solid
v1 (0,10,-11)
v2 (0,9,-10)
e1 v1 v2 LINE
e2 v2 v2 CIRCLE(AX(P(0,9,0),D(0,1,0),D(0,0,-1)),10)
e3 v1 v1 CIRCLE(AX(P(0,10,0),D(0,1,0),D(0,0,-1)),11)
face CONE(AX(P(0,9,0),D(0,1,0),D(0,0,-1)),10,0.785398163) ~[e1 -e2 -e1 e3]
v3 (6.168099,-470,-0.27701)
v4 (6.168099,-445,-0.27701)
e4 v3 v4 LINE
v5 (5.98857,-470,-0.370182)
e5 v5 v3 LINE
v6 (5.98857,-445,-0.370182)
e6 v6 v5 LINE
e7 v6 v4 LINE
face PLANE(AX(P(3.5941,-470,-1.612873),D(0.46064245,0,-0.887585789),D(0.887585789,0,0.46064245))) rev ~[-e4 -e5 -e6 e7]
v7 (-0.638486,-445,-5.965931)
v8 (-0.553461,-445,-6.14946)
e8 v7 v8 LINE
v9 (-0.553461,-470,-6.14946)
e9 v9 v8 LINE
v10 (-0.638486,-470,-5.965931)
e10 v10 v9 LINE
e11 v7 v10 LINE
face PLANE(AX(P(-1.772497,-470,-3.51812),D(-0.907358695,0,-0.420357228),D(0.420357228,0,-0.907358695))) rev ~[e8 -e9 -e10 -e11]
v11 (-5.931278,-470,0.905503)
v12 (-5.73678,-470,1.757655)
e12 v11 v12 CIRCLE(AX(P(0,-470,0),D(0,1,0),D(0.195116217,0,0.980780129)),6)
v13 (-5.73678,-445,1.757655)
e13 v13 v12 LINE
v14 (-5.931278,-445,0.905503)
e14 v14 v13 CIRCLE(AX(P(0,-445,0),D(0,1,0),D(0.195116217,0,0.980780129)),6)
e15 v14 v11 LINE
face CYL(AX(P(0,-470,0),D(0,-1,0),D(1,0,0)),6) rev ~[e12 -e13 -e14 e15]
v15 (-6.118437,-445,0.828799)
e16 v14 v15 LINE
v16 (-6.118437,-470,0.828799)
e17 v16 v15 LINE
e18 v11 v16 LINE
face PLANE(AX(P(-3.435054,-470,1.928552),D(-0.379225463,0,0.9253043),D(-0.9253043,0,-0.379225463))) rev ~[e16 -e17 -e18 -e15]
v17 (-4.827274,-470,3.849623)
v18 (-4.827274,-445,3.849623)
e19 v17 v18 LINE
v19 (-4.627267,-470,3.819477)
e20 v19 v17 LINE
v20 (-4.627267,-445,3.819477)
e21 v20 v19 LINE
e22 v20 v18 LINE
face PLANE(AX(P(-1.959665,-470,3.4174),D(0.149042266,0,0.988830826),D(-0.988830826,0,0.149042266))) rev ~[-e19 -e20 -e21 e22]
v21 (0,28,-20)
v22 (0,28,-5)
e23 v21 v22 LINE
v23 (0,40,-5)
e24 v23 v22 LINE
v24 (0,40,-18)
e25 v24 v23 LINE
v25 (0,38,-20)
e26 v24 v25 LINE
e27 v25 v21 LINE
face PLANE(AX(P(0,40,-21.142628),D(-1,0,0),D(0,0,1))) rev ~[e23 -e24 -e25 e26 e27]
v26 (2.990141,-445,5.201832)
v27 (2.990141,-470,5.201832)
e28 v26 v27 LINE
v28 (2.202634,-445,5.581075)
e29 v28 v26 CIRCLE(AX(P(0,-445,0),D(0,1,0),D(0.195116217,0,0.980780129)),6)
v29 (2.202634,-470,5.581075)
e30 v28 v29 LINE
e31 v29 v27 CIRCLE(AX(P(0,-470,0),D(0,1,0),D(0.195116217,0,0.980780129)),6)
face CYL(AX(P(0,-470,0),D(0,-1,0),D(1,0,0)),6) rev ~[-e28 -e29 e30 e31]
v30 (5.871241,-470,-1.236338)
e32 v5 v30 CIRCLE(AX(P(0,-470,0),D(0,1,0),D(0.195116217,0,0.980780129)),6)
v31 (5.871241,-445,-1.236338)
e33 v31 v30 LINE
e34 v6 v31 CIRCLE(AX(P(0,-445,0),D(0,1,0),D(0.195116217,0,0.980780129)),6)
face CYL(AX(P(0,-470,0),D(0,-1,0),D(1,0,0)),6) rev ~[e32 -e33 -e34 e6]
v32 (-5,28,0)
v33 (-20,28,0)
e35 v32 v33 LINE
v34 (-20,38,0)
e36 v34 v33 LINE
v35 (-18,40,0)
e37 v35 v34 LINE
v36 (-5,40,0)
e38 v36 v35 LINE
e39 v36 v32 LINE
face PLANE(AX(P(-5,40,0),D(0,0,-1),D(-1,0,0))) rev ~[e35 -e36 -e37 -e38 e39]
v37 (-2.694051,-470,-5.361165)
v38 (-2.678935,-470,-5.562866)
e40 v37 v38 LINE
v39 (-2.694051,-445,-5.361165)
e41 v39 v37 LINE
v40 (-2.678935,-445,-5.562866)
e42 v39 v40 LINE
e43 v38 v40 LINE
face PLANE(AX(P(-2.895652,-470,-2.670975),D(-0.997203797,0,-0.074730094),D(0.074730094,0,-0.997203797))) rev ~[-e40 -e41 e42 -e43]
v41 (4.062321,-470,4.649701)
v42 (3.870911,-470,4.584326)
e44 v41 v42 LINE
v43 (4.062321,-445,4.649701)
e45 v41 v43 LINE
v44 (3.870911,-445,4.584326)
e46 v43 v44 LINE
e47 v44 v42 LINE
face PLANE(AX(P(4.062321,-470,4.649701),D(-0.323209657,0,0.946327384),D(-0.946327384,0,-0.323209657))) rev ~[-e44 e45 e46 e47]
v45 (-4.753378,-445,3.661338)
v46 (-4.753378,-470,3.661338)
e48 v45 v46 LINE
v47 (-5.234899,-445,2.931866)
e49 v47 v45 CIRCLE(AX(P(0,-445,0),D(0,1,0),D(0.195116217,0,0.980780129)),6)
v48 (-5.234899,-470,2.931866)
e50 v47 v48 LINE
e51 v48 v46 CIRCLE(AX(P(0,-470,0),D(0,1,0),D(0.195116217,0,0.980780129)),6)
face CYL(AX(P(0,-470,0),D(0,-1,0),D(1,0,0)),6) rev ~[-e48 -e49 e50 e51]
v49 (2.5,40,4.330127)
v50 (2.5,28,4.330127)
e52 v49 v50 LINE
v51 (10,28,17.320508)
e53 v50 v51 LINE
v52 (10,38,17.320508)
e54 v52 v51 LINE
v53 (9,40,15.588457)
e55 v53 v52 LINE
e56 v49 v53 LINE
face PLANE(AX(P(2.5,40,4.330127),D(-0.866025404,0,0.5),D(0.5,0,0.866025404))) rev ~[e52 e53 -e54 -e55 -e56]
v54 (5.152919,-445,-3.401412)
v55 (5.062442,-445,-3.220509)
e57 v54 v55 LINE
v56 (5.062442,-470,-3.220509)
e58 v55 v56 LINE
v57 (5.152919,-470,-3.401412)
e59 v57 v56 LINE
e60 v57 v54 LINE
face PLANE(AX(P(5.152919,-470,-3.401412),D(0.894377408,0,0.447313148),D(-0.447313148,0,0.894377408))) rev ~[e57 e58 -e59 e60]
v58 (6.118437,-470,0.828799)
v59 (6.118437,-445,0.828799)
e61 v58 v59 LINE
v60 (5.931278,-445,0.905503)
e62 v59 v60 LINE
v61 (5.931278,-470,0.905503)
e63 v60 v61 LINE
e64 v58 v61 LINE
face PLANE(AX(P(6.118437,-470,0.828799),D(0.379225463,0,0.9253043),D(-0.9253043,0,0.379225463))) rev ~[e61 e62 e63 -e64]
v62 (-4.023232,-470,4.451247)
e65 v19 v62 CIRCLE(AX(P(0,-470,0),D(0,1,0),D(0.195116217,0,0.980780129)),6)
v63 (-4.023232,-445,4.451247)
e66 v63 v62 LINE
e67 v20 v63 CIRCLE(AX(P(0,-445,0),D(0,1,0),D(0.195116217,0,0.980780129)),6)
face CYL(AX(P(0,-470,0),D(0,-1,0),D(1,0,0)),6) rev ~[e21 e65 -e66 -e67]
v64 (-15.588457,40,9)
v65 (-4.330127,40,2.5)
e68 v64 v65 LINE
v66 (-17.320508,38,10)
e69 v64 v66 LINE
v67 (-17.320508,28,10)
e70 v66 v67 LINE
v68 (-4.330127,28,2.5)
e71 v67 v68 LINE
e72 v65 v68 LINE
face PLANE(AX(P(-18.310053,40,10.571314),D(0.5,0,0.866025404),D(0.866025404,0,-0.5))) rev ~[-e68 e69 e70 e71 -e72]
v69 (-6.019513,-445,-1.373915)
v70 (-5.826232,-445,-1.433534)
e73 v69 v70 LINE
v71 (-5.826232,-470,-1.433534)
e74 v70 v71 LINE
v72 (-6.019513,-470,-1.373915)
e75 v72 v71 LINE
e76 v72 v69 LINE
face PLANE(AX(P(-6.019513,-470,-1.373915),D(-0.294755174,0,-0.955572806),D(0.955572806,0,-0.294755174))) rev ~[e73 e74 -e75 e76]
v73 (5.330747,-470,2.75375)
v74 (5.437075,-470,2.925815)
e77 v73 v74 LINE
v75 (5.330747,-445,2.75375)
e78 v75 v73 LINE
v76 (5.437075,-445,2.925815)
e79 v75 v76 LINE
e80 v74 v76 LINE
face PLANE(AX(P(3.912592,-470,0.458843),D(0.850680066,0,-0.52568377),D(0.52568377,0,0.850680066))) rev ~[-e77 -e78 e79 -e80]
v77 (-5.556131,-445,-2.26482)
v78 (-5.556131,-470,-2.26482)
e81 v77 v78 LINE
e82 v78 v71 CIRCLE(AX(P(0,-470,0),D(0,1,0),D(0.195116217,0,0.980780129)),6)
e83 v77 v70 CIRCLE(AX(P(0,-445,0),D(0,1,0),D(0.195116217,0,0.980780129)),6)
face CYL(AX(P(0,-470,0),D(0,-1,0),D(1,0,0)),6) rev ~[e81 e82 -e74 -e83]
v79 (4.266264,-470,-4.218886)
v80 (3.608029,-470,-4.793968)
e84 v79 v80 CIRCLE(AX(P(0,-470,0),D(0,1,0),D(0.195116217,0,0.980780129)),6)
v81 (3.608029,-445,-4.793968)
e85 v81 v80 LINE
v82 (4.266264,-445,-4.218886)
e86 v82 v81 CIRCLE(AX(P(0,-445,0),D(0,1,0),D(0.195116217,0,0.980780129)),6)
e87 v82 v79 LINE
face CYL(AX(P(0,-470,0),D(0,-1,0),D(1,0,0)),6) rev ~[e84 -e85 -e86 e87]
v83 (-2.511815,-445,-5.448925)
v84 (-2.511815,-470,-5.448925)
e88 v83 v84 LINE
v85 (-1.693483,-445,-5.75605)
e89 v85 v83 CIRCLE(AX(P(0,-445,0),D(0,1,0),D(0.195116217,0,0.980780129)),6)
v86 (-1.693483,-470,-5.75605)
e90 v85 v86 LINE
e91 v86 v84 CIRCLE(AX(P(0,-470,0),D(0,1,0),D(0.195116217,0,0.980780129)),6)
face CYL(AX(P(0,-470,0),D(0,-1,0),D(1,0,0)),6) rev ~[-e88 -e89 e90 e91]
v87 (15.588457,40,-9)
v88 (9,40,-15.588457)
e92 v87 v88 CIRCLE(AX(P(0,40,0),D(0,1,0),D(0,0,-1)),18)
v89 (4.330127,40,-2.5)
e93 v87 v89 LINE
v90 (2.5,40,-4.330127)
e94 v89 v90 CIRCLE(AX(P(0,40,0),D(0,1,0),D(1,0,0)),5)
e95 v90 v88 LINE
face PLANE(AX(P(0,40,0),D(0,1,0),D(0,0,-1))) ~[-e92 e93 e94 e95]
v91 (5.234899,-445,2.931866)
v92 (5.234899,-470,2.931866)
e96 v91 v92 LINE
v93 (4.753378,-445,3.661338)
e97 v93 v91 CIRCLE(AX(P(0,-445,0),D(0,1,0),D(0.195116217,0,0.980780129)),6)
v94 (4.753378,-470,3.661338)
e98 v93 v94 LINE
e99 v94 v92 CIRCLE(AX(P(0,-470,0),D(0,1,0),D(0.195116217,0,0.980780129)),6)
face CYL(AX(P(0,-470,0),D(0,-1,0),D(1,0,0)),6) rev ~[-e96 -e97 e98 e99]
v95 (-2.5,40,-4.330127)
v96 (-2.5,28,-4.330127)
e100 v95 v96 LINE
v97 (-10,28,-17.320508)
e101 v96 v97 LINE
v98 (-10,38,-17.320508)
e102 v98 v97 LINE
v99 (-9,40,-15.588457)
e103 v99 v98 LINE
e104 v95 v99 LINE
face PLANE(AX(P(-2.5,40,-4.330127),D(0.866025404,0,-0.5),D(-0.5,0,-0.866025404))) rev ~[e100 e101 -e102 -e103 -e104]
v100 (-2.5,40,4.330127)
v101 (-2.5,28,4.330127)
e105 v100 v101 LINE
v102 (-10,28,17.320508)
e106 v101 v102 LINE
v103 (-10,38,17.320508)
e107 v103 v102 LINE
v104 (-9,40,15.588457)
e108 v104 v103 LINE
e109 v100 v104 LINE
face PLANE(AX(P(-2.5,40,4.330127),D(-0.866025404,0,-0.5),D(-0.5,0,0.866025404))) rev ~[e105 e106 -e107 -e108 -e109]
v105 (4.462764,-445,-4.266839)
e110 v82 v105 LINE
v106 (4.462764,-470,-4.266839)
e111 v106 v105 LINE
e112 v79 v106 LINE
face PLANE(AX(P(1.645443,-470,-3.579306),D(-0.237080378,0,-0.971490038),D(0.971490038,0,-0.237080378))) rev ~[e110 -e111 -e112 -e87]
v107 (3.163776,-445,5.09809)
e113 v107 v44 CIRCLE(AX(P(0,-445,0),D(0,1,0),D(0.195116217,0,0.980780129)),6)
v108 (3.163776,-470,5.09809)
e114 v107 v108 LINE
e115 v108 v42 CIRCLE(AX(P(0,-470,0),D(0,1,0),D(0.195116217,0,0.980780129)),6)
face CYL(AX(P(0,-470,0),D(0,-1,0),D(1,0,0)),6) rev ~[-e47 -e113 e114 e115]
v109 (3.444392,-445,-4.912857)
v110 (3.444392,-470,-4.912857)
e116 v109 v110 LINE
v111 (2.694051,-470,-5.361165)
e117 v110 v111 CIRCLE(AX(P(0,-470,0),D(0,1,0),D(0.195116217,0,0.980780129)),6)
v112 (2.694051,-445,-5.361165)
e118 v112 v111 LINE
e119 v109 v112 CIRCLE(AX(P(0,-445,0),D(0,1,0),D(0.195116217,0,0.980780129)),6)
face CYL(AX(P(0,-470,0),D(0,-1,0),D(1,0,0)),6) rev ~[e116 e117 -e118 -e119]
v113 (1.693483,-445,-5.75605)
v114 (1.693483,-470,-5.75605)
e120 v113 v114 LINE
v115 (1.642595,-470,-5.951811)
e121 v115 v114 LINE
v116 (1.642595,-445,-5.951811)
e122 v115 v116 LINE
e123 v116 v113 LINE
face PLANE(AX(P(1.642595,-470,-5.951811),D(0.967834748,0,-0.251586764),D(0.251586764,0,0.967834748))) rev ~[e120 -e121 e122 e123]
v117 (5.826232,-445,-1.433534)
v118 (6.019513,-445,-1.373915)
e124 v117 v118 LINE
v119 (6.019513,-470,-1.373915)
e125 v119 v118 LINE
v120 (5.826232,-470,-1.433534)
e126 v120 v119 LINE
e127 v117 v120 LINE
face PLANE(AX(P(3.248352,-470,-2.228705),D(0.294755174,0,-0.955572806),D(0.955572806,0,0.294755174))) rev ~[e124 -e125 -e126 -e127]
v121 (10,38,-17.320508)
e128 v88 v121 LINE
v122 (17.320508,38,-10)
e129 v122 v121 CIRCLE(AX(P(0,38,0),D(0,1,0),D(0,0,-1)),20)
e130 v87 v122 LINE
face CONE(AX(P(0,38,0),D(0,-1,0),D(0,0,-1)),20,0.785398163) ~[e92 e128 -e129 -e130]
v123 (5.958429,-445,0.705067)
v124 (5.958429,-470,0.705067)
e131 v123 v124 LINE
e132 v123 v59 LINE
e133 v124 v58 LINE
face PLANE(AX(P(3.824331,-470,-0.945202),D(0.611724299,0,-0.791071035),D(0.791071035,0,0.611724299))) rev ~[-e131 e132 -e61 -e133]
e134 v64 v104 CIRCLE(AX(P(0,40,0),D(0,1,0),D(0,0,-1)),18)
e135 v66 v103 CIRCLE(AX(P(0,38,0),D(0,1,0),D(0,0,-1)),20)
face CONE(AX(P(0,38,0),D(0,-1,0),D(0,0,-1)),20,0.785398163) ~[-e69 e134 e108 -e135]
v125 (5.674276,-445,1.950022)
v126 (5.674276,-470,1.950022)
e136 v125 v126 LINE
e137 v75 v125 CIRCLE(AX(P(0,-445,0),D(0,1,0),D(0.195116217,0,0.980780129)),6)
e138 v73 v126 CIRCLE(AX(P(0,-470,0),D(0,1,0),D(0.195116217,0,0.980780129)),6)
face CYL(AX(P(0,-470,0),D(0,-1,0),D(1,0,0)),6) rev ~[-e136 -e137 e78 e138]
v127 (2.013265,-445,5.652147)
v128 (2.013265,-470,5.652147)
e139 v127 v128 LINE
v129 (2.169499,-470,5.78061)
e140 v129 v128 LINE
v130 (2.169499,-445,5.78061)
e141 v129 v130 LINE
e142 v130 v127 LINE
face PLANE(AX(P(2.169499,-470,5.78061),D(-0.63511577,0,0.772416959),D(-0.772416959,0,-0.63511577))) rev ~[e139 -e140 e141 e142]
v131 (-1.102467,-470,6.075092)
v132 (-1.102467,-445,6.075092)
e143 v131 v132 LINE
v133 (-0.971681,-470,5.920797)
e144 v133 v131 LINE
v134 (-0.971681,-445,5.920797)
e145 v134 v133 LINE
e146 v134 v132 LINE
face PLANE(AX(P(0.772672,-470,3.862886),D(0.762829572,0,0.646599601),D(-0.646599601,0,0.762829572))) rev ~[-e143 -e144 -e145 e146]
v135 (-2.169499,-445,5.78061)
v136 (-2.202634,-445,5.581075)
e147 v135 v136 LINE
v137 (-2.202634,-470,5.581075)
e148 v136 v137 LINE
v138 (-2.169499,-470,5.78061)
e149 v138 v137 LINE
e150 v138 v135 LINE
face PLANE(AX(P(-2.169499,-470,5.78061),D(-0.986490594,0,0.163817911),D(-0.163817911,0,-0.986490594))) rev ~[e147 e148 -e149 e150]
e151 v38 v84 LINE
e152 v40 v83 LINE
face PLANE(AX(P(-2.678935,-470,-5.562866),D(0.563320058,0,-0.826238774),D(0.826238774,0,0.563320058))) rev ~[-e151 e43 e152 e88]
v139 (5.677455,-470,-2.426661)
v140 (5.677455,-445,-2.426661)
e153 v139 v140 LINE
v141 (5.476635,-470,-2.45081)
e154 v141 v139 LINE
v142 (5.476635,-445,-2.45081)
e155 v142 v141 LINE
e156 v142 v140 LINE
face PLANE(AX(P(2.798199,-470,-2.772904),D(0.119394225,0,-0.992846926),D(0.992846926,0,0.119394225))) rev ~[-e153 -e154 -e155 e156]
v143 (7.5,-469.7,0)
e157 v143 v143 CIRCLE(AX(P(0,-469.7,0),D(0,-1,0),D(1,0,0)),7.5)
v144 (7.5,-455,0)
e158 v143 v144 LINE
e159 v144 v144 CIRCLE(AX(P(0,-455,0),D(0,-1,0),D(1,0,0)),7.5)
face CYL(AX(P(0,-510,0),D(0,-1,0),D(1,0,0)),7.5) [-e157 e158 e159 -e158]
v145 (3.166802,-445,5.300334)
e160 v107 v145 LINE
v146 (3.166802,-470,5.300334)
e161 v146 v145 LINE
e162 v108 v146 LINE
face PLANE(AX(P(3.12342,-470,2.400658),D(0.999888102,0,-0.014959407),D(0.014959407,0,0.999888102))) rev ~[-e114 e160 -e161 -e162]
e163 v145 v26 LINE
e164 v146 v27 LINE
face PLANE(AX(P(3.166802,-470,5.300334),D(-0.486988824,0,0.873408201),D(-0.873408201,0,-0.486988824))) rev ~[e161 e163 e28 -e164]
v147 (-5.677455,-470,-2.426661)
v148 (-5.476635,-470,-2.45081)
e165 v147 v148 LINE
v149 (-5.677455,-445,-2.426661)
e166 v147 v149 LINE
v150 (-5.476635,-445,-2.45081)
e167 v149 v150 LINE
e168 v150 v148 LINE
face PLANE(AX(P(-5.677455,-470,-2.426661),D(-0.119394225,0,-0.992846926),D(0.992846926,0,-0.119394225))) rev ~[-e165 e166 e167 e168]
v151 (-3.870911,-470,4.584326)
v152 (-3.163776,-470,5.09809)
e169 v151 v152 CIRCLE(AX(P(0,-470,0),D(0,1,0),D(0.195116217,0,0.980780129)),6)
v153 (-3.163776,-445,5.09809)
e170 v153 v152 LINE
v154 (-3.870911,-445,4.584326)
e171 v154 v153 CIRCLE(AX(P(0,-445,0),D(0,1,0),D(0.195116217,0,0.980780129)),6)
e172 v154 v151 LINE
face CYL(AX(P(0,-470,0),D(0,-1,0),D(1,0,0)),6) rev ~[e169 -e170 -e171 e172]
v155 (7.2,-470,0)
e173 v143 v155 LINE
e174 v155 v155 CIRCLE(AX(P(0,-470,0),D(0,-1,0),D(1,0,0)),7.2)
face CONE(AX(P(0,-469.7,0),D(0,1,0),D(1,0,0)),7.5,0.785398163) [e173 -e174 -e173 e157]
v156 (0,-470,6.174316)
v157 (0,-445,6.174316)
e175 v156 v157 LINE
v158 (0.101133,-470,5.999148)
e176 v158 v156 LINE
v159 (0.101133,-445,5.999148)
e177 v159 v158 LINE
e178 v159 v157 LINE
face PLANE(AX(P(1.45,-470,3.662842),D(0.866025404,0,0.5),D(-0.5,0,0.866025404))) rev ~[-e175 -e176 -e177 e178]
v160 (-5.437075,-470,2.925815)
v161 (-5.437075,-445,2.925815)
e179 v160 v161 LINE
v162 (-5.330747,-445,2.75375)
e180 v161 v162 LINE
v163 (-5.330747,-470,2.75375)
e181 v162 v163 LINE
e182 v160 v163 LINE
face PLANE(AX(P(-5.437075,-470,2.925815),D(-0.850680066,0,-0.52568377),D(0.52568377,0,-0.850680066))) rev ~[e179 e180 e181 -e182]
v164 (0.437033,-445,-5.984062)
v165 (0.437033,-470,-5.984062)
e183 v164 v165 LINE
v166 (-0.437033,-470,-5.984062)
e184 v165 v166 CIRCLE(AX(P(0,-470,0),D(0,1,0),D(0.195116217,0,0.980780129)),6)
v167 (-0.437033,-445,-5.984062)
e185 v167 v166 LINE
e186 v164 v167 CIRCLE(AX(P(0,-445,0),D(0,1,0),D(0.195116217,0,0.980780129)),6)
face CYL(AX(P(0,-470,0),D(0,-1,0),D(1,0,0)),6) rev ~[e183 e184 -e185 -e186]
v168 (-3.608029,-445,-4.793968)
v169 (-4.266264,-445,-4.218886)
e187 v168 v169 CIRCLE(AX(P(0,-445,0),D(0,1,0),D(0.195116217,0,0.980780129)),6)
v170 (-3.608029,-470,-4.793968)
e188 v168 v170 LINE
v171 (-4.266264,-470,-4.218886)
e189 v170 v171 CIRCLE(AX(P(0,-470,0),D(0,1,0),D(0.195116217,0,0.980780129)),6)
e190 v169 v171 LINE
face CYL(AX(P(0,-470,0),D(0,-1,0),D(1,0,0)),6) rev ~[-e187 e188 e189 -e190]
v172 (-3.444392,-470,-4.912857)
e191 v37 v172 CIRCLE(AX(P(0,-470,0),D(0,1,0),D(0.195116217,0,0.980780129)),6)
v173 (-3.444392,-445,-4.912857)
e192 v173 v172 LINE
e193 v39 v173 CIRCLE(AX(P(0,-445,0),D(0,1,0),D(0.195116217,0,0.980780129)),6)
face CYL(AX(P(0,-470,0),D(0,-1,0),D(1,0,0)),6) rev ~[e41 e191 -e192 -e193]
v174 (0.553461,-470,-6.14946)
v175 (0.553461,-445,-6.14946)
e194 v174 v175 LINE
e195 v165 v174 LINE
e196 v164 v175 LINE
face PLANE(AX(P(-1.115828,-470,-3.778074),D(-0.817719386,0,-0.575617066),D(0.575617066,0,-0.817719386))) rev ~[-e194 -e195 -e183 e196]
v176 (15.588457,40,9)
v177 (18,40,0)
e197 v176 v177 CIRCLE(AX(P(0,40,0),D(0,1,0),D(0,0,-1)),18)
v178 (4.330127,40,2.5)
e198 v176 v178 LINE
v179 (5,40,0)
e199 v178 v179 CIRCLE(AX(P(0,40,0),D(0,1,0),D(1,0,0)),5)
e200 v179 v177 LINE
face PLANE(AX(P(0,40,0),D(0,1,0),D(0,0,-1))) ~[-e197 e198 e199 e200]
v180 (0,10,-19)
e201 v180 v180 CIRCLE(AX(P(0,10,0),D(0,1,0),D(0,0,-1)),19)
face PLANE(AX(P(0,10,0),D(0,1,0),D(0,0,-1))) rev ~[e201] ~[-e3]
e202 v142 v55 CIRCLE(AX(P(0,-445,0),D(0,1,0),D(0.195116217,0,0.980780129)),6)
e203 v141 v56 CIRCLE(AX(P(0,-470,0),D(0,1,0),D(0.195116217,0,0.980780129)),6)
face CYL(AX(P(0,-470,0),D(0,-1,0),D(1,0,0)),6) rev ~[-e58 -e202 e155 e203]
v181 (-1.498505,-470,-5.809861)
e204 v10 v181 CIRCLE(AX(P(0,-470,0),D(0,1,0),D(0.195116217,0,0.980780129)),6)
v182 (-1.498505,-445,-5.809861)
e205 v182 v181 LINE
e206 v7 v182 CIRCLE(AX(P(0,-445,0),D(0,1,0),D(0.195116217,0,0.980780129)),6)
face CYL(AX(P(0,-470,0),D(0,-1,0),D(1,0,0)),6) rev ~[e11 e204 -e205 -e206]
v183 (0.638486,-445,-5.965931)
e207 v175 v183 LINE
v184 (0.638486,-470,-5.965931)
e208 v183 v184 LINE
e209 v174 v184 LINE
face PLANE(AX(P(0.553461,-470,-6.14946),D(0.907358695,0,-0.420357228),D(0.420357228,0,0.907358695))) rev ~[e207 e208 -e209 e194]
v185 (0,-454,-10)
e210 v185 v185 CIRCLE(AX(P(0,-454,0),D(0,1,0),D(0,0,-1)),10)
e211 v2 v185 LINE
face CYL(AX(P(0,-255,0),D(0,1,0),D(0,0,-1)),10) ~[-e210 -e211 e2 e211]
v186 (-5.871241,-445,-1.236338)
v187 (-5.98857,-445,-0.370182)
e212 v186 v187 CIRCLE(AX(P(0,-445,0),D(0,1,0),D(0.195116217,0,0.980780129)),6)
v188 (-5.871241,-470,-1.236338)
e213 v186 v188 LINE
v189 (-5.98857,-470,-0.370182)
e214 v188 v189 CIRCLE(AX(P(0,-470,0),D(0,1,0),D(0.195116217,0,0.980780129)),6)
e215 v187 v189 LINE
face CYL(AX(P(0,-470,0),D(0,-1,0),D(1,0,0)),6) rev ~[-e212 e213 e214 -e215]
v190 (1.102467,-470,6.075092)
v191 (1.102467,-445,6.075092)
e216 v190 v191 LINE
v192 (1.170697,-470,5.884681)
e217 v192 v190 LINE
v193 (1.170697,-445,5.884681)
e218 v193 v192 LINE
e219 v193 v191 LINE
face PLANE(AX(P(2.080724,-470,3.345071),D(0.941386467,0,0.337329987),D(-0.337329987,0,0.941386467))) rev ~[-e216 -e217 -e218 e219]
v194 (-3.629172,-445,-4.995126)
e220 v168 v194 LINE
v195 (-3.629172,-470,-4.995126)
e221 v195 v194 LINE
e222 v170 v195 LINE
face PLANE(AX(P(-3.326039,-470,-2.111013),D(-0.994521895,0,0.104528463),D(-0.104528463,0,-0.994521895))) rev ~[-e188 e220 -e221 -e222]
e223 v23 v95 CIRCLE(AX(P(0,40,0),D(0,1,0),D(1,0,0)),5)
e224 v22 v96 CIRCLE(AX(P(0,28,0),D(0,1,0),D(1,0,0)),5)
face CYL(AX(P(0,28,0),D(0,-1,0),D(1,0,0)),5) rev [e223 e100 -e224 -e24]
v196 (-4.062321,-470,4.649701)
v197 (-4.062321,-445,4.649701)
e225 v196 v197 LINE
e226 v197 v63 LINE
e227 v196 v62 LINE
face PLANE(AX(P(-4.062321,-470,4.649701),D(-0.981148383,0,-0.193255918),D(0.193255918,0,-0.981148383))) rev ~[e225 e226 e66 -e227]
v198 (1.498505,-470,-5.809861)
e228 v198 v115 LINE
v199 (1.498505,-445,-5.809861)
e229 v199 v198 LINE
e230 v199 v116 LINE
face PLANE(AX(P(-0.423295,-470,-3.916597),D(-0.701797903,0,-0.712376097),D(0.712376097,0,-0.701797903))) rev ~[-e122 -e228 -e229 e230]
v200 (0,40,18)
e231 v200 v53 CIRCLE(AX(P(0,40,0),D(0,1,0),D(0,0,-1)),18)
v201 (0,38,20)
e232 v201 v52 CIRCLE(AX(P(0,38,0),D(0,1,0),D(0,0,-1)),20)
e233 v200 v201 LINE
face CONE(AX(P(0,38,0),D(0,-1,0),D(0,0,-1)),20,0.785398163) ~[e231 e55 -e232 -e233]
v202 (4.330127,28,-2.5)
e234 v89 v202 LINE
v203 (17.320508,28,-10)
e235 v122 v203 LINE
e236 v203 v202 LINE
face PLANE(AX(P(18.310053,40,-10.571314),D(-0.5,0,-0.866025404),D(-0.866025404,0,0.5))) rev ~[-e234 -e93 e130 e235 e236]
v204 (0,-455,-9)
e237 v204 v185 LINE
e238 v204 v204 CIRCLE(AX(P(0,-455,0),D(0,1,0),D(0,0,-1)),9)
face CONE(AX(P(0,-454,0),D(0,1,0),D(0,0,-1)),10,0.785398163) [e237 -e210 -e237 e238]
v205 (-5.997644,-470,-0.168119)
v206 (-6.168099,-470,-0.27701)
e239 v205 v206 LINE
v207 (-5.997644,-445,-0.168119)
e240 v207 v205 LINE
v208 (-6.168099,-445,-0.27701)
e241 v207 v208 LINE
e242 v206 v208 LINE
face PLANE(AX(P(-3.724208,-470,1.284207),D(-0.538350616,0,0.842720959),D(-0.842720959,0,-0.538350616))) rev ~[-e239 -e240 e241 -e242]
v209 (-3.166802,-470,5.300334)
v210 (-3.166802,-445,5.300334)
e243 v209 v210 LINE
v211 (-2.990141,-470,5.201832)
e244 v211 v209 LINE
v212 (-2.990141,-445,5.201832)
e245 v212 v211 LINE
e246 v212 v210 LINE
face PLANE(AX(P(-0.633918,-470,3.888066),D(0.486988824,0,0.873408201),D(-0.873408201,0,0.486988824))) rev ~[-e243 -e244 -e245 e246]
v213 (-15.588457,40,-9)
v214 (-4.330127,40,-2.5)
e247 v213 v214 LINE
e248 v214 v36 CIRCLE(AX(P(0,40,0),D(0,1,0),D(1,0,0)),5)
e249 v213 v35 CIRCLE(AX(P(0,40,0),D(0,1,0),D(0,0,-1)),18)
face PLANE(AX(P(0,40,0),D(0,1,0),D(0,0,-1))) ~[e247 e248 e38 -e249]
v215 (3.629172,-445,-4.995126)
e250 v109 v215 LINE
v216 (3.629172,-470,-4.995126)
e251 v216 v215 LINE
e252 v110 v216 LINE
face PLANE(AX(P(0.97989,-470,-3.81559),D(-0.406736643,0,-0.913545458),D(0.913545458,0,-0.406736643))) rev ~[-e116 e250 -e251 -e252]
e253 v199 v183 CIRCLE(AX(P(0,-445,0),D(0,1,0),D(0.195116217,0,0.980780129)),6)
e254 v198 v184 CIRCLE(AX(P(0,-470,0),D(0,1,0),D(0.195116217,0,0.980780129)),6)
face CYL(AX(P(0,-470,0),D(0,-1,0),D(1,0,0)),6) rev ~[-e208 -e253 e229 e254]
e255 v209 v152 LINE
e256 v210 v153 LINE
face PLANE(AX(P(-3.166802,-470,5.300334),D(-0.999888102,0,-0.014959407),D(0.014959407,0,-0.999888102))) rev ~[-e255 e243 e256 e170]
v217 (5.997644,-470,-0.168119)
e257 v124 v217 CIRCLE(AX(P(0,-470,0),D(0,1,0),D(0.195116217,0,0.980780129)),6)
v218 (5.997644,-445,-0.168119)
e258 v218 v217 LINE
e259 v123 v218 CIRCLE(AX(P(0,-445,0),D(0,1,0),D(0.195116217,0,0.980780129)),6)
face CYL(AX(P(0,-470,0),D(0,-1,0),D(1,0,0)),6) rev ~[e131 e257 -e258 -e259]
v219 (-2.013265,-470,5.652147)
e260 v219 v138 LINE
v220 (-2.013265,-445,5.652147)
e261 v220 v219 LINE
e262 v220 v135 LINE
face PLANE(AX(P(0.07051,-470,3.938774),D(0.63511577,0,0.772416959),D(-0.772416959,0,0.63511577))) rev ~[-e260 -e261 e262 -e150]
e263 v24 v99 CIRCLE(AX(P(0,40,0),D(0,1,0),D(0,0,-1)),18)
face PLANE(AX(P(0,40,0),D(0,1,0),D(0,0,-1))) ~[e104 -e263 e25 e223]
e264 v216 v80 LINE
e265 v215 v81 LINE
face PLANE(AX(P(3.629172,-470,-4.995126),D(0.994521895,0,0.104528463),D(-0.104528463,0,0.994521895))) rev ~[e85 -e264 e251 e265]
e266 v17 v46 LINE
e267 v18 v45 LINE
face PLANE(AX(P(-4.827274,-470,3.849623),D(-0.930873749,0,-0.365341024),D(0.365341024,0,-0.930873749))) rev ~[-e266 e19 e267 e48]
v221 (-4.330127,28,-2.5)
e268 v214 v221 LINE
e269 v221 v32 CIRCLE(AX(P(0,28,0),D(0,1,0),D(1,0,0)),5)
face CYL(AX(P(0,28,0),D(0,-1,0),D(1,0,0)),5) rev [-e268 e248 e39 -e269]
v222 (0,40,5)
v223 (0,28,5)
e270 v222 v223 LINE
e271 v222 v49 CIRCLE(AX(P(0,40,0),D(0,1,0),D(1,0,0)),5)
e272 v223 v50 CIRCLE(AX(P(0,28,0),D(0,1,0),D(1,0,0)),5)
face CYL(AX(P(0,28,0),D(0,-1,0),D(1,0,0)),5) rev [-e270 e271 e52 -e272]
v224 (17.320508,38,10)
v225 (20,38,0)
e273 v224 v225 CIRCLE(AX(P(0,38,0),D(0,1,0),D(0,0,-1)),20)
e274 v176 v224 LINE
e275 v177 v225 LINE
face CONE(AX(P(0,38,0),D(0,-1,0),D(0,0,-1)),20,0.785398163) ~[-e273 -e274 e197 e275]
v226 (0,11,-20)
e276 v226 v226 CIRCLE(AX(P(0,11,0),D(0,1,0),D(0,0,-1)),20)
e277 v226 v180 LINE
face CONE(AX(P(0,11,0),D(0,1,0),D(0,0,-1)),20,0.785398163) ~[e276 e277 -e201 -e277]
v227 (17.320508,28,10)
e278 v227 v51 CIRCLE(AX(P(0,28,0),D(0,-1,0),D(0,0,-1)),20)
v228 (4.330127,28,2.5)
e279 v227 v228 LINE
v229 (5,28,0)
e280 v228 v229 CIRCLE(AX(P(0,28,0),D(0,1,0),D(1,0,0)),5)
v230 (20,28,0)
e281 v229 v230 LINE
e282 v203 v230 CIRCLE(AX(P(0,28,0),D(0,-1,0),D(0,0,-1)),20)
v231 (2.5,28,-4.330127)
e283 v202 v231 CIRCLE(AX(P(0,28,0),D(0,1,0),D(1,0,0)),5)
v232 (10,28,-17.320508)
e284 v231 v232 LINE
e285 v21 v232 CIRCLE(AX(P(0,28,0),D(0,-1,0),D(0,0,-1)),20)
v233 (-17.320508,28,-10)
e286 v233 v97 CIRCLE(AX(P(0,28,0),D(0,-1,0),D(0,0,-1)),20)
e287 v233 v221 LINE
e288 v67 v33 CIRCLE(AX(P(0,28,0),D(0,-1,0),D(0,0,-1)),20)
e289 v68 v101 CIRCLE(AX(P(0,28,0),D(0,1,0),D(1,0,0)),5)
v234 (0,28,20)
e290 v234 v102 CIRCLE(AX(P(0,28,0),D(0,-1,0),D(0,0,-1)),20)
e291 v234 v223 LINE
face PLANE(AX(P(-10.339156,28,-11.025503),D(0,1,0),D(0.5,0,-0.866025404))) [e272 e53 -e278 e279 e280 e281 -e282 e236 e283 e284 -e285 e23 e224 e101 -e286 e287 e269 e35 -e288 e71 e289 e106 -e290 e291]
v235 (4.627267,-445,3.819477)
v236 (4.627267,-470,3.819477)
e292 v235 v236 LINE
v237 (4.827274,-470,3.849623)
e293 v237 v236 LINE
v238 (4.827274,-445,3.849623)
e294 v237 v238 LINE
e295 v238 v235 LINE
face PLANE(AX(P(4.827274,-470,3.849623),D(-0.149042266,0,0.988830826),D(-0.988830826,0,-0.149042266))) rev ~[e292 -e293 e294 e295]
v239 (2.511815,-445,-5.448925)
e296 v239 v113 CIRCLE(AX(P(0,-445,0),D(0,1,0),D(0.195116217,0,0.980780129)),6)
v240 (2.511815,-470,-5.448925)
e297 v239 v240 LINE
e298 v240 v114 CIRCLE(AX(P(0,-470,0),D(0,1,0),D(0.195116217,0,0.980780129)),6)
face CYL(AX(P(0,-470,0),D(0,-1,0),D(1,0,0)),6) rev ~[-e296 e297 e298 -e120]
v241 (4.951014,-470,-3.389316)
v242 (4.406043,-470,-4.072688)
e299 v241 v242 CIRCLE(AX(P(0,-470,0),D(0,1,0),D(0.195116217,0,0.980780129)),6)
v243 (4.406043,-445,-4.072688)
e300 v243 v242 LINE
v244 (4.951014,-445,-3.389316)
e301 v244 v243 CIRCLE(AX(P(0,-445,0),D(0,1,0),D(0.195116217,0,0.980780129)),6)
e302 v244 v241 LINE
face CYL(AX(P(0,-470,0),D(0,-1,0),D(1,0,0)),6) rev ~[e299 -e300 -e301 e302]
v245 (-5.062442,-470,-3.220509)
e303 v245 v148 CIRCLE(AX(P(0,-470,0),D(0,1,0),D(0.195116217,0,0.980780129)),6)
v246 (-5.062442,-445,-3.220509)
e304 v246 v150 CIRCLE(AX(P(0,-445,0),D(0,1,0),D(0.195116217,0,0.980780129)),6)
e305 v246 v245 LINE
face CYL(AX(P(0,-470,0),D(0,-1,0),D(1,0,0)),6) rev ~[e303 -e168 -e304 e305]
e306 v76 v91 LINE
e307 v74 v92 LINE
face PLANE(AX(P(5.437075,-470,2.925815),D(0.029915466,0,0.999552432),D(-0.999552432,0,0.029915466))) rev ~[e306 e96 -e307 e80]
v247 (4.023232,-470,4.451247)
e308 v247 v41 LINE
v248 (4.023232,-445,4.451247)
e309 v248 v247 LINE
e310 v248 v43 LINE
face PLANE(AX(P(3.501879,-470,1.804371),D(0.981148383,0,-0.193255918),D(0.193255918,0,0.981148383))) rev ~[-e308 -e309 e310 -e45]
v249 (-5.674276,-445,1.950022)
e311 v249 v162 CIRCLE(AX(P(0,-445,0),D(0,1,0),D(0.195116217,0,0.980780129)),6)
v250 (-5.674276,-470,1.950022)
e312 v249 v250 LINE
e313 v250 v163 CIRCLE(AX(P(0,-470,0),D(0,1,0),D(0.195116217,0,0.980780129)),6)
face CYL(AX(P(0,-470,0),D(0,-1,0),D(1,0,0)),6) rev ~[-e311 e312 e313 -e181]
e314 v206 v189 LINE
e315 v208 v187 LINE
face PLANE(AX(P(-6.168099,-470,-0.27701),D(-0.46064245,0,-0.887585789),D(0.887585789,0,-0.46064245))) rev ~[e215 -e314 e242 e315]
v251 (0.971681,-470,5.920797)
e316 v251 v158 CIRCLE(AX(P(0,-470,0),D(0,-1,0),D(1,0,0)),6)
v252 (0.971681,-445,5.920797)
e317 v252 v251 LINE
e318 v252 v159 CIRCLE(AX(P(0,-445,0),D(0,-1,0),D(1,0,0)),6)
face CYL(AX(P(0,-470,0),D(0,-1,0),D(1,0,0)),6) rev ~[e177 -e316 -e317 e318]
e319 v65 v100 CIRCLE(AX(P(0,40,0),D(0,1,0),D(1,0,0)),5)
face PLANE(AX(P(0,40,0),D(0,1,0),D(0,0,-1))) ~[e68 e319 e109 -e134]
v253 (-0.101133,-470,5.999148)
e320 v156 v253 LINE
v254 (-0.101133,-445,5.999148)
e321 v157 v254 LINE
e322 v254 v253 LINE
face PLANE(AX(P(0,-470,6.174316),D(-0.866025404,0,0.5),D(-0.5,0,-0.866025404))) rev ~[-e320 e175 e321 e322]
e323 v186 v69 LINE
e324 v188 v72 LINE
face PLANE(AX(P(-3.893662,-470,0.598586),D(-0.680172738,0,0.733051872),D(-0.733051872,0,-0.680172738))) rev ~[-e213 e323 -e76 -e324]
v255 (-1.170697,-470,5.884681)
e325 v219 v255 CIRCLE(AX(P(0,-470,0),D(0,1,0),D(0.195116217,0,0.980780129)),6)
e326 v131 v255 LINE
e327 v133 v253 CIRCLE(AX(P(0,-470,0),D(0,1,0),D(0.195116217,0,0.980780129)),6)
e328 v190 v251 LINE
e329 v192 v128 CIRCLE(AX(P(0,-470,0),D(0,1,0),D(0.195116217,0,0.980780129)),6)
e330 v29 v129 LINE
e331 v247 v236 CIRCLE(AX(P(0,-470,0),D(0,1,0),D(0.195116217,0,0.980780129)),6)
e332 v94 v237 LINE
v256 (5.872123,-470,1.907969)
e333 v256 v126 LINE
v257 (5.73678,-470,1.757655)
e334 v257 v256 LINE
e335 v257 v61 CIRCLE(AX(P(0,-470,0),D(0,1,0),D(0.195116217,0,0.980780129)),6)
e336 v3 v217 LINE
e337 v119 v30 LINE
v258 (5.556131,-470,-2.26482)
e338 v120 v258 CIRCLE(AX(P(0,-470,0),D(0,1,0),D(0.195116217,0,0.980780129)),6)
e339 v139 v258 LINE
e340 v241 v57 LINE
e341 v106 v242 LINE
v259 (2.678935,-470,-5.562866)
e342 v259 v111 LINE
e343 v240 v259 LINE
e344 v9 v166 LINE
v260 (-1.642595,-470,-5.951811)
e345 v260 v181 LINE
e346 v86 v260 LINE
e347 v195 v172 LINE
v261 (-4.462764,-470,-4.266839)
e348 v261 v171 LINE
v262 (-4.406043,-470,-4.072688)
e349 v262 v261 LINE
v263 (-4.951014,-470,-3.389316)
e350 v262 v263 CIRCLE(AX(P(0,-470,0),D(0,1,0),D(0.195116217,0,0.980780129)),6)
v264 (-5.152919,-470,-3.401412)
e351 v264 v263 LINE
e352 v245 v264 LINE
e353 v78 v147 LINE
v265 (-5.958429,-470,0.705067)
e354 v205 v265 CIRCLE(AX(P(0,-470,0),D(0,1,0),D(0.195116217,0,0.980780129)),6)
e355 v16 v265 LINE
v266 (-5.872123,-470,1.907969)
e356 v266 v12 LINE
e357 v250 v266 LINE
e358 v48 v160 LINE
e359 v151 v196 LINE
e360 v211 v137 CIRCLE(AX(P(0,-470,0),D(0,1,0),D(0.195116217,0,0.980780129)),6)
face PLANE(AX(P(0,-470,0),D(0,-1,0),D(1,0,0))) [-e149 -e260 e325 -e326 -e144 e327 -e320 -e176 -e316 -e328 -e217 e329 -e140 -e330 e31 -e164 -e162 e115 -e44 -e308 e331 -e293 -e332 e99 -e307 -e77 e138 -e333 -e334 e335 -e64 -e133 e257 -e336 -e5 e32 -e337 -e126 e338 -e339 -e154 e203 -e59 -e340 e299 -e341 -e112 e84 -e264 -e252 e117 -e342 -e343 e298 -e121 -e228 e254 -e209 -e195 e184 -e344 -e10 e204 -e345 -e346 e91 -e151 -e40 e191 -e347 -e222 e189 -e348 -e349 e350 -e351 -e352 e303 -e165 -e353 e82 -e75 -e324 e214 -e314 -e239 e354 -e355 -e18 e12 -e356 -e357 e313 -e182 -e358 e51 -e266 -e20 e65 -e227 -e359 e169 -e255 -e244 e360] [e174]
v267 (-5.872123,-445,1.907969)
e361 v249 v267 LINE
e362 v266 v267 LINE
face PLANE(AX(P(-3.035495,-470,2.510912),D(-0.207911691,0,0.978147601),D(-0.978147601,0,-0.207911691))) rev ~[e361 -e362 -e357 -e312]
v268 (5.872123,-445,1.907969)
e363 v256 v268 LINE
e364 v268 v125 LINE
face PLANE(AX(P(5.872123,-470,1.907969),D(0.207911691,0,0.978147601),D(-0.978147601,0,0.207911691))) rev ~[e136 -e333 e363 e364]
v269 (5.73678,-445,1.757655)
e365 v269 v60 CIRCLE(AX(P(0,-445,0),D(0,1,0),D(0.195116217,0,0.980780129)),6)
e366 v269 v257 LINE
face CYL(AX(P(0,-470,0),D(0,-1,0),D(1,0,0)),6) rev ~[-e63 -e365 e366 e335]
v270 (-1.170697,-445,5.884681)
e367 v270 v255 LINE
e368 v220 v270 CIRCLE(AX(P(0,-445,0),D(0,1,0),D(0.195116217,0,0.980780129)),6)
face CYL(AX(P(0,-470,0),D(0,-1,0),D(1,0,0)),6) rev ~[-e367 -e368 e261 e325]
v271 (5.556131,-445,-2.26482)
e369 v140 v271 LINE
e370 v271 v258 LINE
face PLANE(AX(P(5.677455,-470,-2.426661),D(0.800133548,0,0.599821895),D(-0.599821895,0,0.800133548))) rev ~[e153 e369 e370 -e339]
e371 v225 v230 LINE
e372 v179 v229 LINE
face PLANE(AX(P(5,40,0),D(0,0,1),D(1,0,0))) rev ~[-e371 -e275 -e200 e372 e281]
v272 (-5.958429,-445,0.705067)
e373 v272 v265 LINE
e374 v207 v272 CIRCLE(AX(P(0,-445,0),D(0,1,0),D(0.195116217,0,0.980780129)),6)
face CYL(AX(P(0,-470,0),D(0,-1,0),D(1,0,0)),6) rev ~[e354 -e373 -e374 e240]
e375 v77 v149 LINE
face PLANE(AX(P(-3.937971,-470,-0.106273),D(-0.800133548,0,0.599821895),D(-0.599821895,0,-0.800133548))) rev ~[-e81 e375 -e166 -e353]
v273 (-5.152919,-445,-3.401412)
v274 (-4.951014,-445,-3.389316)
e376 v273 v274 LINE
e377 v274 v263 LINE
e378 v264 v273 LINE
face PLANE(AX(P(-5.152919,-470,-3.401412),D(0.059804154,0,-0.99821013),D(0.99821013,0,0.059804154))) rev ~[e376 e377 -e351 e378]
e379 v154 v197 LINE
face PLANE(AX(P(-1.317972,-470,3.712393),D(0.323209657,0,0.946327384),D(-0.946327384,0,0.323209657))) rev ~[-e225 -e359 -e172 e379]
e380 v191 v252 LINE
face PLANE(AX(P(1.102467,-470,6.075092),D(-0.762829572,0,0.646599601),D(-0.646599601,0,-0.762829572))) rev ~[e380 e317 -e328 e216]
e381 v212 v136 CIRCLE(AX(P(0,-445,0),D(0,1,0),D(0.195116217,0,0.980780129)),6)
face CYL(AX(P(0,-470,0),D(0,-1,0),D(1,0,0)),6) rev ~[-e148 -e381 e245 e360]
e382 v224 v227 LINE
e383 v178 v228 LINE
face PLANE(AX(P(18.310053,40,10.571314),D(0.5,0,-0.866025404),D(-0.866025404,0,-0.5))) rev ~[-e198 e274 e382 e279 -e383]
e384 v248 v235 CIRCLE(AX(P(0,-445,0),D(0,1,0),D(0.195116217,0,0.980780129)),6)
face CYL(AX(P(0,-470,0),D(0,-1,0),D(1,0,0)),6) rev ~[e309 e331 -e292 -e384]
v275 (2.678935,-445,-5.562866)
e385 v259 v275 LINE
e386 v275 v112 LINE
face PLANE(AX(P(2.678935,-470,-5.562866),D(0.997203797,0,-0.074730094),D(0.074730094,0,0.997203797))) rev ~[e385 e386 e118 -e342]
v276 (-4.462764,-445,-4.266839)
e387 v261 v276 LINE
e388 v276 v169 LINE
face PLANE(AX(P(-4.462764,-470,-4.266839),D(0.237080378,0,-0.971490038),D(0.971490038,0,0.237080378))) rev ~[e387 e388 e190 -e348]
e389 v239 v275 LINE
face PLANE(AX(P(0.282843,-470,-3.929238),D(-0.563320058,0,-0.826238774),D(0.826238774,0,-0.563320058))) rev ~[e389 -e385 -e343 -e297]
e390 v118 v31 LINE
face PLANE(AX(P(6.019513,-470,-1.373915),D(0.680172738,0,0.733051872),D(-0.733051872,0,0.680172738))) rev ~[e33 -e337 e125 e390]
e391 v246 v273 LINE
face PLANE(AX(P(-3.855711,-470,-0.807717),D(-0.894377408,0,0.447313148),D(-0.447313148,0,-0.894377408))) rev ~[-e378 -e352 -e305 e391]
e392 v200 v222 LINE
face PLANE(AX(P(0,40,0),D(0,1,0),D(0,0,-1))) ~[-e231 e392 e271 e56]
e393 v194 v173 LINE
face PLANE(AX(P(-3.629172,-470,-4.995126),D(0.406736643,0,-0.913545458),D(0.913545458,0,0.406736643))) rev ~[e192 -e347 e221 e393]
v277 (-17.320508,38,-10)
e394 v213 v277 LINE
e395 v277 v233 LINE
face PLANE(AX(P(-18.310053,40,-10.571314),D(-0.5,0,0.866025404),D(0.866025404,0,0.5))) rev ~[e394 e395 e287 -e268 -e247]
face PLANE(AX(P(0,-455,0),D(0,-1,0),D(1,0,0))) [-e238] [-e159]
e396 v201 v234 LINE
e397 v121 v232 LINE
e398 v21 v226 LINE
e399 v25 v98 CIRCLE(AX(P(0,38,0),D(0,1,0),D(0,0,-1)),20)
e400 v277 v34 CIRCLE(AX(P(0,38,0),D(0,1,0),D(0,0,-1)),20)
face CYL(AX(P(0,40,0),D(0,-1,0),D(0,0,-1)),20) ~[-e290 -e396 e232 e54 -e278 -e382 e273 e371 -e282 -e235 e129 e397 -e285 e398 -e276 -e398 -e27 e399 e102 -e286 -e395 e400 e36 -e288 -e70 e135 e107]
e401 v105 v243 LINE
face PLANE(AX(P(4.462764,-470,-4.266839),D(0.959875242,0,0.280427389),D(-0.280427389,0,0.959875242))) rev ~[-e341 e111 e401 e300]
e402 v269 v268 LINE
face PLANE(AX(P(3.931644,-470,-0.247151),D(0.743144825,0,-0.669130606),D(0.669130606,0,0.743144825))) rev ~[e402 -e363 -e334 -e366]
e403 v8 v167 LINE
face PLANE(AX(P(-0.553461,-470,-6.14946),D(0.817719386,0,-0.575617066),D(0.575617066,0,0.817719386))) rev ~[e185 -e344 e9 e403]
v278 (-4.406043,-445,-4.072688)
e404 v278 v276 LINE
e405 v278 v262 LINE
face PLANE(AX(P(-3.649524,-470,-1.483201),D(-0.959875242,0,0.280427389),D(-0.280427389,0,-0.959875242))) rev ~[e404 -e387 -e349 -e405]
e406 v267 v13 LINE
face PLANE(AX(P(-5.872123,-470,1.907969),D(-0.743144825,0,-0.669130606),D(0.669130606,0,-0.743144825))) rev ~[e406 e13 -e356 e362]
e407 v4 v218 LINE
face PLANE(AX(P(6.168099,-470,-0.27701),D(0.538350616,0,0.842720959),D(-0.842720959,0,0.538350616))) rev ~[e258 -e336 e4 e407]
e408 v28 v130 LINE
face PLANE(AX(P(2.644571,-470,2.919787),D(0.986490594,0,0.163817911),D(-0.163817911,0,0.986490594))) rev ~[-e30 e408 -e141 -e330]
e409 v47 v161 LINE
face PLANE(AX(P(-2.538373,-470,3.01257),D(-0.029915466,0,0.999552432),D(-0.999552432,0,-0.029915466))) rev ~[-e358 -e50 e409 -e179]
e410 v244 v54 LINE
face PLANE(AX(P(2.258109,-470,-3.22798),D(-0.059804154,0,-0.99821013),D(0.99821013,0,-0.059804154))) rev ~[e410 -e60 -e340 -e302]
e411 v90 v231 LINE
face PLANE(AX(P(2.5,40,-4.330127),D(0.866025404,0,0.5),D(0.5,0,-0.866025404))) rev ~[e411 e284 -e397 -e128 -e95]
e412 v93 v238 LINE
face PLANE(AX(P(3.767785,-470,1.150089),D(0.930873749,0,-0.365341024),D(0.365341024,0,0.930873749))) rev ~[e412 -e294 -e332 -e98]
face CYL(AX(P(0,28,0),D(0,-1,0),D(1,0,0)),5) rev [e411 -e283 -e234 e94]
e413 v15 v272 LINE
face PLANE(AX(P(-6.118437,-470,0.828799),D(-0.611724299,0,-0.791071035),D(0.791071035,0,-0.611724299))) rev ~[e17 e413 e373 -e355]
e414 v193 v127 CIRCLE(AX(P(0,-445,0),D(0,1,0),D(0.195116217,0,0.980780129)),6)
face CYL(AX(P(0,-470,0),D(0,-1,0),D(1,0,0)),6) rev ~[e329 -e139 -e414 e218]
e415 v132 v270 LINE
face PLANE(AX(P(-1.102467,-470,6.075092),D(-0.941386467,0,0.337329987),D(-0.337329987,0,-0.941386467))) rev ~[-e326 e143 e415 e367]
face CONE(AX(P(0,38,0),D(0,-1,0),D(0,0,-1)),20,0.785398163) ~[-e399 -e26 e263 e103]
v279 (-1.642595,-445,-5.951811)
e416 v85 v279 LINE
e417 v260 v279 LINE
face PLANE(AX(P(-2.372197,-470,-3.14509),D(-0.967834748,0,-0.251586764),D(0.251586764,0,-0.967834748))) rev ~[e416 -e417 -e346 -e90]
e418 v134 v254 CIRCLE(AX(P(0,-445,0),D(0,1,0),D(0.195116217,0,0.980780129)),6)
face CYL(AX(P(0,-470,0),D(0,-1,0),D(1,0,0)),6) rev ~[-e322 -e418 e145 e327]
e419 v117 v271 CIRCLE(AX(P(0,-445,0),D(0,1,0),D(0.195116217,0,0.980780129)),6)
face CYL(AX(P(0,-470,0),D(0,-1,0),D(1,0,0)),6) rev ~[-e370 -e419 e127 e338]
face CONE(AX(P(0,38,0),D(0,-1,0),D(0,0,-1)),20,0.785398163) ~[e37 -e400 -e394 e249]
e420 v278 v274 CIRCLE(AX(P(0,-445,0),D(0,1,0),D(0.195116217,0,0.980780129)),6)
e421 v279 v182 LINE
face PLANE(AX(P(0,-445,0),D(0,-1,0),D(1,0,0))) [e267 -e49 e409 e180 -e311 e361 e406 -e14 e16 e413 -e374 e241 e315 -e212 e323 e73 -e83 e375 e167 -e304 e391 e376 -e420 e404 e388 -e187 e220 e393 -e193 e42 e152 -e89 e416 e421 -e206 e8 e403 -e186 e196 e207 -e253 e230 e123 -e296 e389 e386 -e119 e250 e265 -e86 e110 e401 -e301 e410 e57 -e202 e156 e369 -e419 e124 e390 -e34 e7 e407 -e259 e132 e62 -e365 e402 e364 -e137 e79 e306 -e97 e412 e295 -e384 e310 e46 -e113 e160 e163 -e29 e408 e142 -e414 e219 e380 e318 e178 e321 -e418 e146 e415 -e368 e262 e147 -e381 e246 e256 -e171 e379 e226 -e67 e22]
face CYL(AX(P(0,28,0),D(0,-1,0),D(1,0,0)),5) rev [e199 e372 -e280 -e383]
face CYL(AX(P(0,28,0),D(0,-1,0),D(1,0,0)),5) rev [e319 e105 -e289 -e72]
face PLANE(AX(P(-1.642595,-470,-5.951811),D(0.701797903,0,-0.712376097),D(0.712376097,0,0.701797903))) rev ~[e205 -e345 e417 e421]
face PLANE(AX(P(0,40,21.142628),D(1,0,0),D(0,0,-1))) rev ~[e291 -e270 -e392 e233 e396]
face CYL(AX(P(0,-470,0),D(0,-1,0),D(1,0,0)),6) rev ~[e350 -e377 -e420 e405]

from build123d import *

# Parameters (mm, degrees)
CHAMFER1_SIZE      = 2
CUT_EXTRUDE1_DEPTH = 12
CIRPATTERN6_COUNT  = 6
CUT_EXTRUDE2_START = -12
SKETCH3_R          = 5
CUT_EXTRUDE2_DEPTH = 12
CHAMFER2_SIZE      = 1
SKETCH4_W          = 10
SKETCH4_H          = 510
SKETCH5_OUTSIDE_W  = 152.58
SKETCH5_OUTSIDE_H  = 152.58
SKETCH5_OUTSIDE_R  = 7.5
CUT_EXTRUDE3_DEPTH = 55
CHAMFER3_SIZE      = 1
SKETCH6_R          = 30.68966821
CUT_EXTRUDE4_DEPTH = 40
SKETCH7_R          = 6
CUT_EXTRUDE5_DEPTH = 25
CUT_EXTRUDE6_DEPTH = 25
CIRPATTERN7_COUNT  = 35
CHAMFER4_SIZE      = 0.3


with BuildPart() as part:
    # Sketch1 → Revolve1 (revolve)
    with BuildSketch(Plane.XY, mode=Mode.PRIVATE) as revolve1_sk:
        Polygon((0, 0), (0, 40), (20, 40), (20, 10), (10, 10), (10, 0), align=None)
    revolve(revolve1_sk.sketch.rotate(Axis((0, 0, 0), (0, 1, 0)), 90), axis=Axis((0, 0, 0), (0, 1, 0)))

    # Chamfer1
    chamfer1_edges = [part.edges().sort_by_distance(p)[0] for p in [
        (0, 40, 20),
    ]]
    chamfer(chamfer1_edges, length=CHAMFER1_SIZE)

    # Sketch2 → Cut-Extrude1 (cut)
    with BuildSketch(Plane(origin=(0, 40, 0), x_dir=(1, 0, 0), z_dir=(0, 1, 0))):
        with BuildLine():
            Line((0, 21.142627656), (0, 5))
            ThreePointArc((0, 5), (1.294095226, 4.829629131), (2.5, 4.330127019))
            Line((2.5, 4.330127019), (12.206701769, 21.142627656))
            Line((12.206701769, 21.142627656), (0, 21.142627656))
        make_face()
    cut_extrude1 = extrude(amount=-CUT_EXTRUDE1_DEPTH, mode=Mode.SUBTRACT)

    # CirPattern6: Cut-Extrude1 ×6 about axis
    cirpattern6_axis = Axis((0, 0, 0), (0, 1, 0))
    for i in range(1, CIRPATTERN6_COUNT):
        add(cut_extrude1.rotate(cirpattern6_axis, i * 360 / CIRPATTERN6_COUNT), mode=Mode.SUBTRACT)

    # Sketch3 → Cut-Extrude2 (cut)
    with BuildSketch(Plane(origin=(0, 40, 0), x_dir=(1, 0, 0), z_dir=(0, 1, 0)).offset(CUT_EXTRUDE2_START)):
        Circle(SKETCH3_R)
    extrude(amount=CUT_EXTRUDE2_DEPTH, mode=Mode.SUBTRACT)

    # Chamfer2
    chamfer2_edges = [part.edges().sort_by_distance(p)[0] for p in [
        (0, 10, 10),
        (0, 10, 20),
    ]]
    chamfer(chamfer2_edges, length=CHAMFER2_SIZE)

    # Sketch4 → Revolve2 (revolve)
    with BuildSketch(Plane.XY, mode=Mode.PRIVATE) as revolve2_sk:
        with Locations((5, -255)):
            Rectangle(SKETCH4_W, SKETCH4_H)
    revolve(revolve2_sk.sketch.rotate(Axis((0, 0, 0), (0, -1, 0)), 270), axis=Axis((0, 0, 0), (0, -1, 0)))

    # Sketch5 outside → Cut-Extrude3 (cut)
    with BuildSketch(Plane.XZ.offset(510)):
        Rectangle(SKETCH5_OUTSIDE_W, SKETCH5_OUTSIDE_H)
        Circle(SKETCH5_OUTSIDE_R, mode=Mode.SUBTRACT)
    extrude(amount=-CUT_EXTRUDE3_DEPTH, mode=Mode.SUBTRACT)

    # Chamfer3
    chamfer3_edges = [part.edges().sort_by_distance(p)[0] for p in [
        (0, -455, 10),
    ]]
    chamfer(chamfer3_edges, length=CHAMFER3_SIZE)

    # Sketch6 → Cut-Extrude4 (cut)
    with BuildSketch(Plane.XZ.offset(510)):
        Circle(SKETCH6_R)
    extrude(amount=-CUT_EXTRUDE4_DEPTH, mode=Mode.SUBTRACT)

    # Sketch7 → Cut-Extrude5 (cut)
    with BuildSketch(Plane.XZ.offset(470)):
        Circle(SKETCH7_R)
    extrude(amount=-CUT_EXTRUDE5_DEPTH, mode=Mode.SUBTRACT)

    # Sketch8 → Cut-Extrude6 (cut)
    with BuildSketch(Plane.XZ.offset(470)):
        Polygon((0, 6.174315781), (-1.45, 3.66284211), (1.45, 3.66284211), align=None)
    cut_extrude6 = extrude(amount=-CUT_EXTRUDE6_DEPTH, mode=Mode.SUBTRACT)

    # CirPattern7: Cut-Extrude6 ×35 about axis
    cirpattern7_axis = Axis((0, 0, 0), (0, 1, 0))
    for i in range(1, CIRPATTERN7_COUNT):
        add(cut_extrude6.rotate(cirpattern7_axis, i * 360 / CIRPATTERN7_COUNT), mode=Mode.SUBTRACT)

    # Chamfer4
    chamfer4_edges = [part.edges().sort_by_distance(p)[0] for p in [
        (-7.5, -470, 0),
    ]]
    chamfer(chamfer4_edges, length=CHAMFER4_SIZE)


solid = part.part
